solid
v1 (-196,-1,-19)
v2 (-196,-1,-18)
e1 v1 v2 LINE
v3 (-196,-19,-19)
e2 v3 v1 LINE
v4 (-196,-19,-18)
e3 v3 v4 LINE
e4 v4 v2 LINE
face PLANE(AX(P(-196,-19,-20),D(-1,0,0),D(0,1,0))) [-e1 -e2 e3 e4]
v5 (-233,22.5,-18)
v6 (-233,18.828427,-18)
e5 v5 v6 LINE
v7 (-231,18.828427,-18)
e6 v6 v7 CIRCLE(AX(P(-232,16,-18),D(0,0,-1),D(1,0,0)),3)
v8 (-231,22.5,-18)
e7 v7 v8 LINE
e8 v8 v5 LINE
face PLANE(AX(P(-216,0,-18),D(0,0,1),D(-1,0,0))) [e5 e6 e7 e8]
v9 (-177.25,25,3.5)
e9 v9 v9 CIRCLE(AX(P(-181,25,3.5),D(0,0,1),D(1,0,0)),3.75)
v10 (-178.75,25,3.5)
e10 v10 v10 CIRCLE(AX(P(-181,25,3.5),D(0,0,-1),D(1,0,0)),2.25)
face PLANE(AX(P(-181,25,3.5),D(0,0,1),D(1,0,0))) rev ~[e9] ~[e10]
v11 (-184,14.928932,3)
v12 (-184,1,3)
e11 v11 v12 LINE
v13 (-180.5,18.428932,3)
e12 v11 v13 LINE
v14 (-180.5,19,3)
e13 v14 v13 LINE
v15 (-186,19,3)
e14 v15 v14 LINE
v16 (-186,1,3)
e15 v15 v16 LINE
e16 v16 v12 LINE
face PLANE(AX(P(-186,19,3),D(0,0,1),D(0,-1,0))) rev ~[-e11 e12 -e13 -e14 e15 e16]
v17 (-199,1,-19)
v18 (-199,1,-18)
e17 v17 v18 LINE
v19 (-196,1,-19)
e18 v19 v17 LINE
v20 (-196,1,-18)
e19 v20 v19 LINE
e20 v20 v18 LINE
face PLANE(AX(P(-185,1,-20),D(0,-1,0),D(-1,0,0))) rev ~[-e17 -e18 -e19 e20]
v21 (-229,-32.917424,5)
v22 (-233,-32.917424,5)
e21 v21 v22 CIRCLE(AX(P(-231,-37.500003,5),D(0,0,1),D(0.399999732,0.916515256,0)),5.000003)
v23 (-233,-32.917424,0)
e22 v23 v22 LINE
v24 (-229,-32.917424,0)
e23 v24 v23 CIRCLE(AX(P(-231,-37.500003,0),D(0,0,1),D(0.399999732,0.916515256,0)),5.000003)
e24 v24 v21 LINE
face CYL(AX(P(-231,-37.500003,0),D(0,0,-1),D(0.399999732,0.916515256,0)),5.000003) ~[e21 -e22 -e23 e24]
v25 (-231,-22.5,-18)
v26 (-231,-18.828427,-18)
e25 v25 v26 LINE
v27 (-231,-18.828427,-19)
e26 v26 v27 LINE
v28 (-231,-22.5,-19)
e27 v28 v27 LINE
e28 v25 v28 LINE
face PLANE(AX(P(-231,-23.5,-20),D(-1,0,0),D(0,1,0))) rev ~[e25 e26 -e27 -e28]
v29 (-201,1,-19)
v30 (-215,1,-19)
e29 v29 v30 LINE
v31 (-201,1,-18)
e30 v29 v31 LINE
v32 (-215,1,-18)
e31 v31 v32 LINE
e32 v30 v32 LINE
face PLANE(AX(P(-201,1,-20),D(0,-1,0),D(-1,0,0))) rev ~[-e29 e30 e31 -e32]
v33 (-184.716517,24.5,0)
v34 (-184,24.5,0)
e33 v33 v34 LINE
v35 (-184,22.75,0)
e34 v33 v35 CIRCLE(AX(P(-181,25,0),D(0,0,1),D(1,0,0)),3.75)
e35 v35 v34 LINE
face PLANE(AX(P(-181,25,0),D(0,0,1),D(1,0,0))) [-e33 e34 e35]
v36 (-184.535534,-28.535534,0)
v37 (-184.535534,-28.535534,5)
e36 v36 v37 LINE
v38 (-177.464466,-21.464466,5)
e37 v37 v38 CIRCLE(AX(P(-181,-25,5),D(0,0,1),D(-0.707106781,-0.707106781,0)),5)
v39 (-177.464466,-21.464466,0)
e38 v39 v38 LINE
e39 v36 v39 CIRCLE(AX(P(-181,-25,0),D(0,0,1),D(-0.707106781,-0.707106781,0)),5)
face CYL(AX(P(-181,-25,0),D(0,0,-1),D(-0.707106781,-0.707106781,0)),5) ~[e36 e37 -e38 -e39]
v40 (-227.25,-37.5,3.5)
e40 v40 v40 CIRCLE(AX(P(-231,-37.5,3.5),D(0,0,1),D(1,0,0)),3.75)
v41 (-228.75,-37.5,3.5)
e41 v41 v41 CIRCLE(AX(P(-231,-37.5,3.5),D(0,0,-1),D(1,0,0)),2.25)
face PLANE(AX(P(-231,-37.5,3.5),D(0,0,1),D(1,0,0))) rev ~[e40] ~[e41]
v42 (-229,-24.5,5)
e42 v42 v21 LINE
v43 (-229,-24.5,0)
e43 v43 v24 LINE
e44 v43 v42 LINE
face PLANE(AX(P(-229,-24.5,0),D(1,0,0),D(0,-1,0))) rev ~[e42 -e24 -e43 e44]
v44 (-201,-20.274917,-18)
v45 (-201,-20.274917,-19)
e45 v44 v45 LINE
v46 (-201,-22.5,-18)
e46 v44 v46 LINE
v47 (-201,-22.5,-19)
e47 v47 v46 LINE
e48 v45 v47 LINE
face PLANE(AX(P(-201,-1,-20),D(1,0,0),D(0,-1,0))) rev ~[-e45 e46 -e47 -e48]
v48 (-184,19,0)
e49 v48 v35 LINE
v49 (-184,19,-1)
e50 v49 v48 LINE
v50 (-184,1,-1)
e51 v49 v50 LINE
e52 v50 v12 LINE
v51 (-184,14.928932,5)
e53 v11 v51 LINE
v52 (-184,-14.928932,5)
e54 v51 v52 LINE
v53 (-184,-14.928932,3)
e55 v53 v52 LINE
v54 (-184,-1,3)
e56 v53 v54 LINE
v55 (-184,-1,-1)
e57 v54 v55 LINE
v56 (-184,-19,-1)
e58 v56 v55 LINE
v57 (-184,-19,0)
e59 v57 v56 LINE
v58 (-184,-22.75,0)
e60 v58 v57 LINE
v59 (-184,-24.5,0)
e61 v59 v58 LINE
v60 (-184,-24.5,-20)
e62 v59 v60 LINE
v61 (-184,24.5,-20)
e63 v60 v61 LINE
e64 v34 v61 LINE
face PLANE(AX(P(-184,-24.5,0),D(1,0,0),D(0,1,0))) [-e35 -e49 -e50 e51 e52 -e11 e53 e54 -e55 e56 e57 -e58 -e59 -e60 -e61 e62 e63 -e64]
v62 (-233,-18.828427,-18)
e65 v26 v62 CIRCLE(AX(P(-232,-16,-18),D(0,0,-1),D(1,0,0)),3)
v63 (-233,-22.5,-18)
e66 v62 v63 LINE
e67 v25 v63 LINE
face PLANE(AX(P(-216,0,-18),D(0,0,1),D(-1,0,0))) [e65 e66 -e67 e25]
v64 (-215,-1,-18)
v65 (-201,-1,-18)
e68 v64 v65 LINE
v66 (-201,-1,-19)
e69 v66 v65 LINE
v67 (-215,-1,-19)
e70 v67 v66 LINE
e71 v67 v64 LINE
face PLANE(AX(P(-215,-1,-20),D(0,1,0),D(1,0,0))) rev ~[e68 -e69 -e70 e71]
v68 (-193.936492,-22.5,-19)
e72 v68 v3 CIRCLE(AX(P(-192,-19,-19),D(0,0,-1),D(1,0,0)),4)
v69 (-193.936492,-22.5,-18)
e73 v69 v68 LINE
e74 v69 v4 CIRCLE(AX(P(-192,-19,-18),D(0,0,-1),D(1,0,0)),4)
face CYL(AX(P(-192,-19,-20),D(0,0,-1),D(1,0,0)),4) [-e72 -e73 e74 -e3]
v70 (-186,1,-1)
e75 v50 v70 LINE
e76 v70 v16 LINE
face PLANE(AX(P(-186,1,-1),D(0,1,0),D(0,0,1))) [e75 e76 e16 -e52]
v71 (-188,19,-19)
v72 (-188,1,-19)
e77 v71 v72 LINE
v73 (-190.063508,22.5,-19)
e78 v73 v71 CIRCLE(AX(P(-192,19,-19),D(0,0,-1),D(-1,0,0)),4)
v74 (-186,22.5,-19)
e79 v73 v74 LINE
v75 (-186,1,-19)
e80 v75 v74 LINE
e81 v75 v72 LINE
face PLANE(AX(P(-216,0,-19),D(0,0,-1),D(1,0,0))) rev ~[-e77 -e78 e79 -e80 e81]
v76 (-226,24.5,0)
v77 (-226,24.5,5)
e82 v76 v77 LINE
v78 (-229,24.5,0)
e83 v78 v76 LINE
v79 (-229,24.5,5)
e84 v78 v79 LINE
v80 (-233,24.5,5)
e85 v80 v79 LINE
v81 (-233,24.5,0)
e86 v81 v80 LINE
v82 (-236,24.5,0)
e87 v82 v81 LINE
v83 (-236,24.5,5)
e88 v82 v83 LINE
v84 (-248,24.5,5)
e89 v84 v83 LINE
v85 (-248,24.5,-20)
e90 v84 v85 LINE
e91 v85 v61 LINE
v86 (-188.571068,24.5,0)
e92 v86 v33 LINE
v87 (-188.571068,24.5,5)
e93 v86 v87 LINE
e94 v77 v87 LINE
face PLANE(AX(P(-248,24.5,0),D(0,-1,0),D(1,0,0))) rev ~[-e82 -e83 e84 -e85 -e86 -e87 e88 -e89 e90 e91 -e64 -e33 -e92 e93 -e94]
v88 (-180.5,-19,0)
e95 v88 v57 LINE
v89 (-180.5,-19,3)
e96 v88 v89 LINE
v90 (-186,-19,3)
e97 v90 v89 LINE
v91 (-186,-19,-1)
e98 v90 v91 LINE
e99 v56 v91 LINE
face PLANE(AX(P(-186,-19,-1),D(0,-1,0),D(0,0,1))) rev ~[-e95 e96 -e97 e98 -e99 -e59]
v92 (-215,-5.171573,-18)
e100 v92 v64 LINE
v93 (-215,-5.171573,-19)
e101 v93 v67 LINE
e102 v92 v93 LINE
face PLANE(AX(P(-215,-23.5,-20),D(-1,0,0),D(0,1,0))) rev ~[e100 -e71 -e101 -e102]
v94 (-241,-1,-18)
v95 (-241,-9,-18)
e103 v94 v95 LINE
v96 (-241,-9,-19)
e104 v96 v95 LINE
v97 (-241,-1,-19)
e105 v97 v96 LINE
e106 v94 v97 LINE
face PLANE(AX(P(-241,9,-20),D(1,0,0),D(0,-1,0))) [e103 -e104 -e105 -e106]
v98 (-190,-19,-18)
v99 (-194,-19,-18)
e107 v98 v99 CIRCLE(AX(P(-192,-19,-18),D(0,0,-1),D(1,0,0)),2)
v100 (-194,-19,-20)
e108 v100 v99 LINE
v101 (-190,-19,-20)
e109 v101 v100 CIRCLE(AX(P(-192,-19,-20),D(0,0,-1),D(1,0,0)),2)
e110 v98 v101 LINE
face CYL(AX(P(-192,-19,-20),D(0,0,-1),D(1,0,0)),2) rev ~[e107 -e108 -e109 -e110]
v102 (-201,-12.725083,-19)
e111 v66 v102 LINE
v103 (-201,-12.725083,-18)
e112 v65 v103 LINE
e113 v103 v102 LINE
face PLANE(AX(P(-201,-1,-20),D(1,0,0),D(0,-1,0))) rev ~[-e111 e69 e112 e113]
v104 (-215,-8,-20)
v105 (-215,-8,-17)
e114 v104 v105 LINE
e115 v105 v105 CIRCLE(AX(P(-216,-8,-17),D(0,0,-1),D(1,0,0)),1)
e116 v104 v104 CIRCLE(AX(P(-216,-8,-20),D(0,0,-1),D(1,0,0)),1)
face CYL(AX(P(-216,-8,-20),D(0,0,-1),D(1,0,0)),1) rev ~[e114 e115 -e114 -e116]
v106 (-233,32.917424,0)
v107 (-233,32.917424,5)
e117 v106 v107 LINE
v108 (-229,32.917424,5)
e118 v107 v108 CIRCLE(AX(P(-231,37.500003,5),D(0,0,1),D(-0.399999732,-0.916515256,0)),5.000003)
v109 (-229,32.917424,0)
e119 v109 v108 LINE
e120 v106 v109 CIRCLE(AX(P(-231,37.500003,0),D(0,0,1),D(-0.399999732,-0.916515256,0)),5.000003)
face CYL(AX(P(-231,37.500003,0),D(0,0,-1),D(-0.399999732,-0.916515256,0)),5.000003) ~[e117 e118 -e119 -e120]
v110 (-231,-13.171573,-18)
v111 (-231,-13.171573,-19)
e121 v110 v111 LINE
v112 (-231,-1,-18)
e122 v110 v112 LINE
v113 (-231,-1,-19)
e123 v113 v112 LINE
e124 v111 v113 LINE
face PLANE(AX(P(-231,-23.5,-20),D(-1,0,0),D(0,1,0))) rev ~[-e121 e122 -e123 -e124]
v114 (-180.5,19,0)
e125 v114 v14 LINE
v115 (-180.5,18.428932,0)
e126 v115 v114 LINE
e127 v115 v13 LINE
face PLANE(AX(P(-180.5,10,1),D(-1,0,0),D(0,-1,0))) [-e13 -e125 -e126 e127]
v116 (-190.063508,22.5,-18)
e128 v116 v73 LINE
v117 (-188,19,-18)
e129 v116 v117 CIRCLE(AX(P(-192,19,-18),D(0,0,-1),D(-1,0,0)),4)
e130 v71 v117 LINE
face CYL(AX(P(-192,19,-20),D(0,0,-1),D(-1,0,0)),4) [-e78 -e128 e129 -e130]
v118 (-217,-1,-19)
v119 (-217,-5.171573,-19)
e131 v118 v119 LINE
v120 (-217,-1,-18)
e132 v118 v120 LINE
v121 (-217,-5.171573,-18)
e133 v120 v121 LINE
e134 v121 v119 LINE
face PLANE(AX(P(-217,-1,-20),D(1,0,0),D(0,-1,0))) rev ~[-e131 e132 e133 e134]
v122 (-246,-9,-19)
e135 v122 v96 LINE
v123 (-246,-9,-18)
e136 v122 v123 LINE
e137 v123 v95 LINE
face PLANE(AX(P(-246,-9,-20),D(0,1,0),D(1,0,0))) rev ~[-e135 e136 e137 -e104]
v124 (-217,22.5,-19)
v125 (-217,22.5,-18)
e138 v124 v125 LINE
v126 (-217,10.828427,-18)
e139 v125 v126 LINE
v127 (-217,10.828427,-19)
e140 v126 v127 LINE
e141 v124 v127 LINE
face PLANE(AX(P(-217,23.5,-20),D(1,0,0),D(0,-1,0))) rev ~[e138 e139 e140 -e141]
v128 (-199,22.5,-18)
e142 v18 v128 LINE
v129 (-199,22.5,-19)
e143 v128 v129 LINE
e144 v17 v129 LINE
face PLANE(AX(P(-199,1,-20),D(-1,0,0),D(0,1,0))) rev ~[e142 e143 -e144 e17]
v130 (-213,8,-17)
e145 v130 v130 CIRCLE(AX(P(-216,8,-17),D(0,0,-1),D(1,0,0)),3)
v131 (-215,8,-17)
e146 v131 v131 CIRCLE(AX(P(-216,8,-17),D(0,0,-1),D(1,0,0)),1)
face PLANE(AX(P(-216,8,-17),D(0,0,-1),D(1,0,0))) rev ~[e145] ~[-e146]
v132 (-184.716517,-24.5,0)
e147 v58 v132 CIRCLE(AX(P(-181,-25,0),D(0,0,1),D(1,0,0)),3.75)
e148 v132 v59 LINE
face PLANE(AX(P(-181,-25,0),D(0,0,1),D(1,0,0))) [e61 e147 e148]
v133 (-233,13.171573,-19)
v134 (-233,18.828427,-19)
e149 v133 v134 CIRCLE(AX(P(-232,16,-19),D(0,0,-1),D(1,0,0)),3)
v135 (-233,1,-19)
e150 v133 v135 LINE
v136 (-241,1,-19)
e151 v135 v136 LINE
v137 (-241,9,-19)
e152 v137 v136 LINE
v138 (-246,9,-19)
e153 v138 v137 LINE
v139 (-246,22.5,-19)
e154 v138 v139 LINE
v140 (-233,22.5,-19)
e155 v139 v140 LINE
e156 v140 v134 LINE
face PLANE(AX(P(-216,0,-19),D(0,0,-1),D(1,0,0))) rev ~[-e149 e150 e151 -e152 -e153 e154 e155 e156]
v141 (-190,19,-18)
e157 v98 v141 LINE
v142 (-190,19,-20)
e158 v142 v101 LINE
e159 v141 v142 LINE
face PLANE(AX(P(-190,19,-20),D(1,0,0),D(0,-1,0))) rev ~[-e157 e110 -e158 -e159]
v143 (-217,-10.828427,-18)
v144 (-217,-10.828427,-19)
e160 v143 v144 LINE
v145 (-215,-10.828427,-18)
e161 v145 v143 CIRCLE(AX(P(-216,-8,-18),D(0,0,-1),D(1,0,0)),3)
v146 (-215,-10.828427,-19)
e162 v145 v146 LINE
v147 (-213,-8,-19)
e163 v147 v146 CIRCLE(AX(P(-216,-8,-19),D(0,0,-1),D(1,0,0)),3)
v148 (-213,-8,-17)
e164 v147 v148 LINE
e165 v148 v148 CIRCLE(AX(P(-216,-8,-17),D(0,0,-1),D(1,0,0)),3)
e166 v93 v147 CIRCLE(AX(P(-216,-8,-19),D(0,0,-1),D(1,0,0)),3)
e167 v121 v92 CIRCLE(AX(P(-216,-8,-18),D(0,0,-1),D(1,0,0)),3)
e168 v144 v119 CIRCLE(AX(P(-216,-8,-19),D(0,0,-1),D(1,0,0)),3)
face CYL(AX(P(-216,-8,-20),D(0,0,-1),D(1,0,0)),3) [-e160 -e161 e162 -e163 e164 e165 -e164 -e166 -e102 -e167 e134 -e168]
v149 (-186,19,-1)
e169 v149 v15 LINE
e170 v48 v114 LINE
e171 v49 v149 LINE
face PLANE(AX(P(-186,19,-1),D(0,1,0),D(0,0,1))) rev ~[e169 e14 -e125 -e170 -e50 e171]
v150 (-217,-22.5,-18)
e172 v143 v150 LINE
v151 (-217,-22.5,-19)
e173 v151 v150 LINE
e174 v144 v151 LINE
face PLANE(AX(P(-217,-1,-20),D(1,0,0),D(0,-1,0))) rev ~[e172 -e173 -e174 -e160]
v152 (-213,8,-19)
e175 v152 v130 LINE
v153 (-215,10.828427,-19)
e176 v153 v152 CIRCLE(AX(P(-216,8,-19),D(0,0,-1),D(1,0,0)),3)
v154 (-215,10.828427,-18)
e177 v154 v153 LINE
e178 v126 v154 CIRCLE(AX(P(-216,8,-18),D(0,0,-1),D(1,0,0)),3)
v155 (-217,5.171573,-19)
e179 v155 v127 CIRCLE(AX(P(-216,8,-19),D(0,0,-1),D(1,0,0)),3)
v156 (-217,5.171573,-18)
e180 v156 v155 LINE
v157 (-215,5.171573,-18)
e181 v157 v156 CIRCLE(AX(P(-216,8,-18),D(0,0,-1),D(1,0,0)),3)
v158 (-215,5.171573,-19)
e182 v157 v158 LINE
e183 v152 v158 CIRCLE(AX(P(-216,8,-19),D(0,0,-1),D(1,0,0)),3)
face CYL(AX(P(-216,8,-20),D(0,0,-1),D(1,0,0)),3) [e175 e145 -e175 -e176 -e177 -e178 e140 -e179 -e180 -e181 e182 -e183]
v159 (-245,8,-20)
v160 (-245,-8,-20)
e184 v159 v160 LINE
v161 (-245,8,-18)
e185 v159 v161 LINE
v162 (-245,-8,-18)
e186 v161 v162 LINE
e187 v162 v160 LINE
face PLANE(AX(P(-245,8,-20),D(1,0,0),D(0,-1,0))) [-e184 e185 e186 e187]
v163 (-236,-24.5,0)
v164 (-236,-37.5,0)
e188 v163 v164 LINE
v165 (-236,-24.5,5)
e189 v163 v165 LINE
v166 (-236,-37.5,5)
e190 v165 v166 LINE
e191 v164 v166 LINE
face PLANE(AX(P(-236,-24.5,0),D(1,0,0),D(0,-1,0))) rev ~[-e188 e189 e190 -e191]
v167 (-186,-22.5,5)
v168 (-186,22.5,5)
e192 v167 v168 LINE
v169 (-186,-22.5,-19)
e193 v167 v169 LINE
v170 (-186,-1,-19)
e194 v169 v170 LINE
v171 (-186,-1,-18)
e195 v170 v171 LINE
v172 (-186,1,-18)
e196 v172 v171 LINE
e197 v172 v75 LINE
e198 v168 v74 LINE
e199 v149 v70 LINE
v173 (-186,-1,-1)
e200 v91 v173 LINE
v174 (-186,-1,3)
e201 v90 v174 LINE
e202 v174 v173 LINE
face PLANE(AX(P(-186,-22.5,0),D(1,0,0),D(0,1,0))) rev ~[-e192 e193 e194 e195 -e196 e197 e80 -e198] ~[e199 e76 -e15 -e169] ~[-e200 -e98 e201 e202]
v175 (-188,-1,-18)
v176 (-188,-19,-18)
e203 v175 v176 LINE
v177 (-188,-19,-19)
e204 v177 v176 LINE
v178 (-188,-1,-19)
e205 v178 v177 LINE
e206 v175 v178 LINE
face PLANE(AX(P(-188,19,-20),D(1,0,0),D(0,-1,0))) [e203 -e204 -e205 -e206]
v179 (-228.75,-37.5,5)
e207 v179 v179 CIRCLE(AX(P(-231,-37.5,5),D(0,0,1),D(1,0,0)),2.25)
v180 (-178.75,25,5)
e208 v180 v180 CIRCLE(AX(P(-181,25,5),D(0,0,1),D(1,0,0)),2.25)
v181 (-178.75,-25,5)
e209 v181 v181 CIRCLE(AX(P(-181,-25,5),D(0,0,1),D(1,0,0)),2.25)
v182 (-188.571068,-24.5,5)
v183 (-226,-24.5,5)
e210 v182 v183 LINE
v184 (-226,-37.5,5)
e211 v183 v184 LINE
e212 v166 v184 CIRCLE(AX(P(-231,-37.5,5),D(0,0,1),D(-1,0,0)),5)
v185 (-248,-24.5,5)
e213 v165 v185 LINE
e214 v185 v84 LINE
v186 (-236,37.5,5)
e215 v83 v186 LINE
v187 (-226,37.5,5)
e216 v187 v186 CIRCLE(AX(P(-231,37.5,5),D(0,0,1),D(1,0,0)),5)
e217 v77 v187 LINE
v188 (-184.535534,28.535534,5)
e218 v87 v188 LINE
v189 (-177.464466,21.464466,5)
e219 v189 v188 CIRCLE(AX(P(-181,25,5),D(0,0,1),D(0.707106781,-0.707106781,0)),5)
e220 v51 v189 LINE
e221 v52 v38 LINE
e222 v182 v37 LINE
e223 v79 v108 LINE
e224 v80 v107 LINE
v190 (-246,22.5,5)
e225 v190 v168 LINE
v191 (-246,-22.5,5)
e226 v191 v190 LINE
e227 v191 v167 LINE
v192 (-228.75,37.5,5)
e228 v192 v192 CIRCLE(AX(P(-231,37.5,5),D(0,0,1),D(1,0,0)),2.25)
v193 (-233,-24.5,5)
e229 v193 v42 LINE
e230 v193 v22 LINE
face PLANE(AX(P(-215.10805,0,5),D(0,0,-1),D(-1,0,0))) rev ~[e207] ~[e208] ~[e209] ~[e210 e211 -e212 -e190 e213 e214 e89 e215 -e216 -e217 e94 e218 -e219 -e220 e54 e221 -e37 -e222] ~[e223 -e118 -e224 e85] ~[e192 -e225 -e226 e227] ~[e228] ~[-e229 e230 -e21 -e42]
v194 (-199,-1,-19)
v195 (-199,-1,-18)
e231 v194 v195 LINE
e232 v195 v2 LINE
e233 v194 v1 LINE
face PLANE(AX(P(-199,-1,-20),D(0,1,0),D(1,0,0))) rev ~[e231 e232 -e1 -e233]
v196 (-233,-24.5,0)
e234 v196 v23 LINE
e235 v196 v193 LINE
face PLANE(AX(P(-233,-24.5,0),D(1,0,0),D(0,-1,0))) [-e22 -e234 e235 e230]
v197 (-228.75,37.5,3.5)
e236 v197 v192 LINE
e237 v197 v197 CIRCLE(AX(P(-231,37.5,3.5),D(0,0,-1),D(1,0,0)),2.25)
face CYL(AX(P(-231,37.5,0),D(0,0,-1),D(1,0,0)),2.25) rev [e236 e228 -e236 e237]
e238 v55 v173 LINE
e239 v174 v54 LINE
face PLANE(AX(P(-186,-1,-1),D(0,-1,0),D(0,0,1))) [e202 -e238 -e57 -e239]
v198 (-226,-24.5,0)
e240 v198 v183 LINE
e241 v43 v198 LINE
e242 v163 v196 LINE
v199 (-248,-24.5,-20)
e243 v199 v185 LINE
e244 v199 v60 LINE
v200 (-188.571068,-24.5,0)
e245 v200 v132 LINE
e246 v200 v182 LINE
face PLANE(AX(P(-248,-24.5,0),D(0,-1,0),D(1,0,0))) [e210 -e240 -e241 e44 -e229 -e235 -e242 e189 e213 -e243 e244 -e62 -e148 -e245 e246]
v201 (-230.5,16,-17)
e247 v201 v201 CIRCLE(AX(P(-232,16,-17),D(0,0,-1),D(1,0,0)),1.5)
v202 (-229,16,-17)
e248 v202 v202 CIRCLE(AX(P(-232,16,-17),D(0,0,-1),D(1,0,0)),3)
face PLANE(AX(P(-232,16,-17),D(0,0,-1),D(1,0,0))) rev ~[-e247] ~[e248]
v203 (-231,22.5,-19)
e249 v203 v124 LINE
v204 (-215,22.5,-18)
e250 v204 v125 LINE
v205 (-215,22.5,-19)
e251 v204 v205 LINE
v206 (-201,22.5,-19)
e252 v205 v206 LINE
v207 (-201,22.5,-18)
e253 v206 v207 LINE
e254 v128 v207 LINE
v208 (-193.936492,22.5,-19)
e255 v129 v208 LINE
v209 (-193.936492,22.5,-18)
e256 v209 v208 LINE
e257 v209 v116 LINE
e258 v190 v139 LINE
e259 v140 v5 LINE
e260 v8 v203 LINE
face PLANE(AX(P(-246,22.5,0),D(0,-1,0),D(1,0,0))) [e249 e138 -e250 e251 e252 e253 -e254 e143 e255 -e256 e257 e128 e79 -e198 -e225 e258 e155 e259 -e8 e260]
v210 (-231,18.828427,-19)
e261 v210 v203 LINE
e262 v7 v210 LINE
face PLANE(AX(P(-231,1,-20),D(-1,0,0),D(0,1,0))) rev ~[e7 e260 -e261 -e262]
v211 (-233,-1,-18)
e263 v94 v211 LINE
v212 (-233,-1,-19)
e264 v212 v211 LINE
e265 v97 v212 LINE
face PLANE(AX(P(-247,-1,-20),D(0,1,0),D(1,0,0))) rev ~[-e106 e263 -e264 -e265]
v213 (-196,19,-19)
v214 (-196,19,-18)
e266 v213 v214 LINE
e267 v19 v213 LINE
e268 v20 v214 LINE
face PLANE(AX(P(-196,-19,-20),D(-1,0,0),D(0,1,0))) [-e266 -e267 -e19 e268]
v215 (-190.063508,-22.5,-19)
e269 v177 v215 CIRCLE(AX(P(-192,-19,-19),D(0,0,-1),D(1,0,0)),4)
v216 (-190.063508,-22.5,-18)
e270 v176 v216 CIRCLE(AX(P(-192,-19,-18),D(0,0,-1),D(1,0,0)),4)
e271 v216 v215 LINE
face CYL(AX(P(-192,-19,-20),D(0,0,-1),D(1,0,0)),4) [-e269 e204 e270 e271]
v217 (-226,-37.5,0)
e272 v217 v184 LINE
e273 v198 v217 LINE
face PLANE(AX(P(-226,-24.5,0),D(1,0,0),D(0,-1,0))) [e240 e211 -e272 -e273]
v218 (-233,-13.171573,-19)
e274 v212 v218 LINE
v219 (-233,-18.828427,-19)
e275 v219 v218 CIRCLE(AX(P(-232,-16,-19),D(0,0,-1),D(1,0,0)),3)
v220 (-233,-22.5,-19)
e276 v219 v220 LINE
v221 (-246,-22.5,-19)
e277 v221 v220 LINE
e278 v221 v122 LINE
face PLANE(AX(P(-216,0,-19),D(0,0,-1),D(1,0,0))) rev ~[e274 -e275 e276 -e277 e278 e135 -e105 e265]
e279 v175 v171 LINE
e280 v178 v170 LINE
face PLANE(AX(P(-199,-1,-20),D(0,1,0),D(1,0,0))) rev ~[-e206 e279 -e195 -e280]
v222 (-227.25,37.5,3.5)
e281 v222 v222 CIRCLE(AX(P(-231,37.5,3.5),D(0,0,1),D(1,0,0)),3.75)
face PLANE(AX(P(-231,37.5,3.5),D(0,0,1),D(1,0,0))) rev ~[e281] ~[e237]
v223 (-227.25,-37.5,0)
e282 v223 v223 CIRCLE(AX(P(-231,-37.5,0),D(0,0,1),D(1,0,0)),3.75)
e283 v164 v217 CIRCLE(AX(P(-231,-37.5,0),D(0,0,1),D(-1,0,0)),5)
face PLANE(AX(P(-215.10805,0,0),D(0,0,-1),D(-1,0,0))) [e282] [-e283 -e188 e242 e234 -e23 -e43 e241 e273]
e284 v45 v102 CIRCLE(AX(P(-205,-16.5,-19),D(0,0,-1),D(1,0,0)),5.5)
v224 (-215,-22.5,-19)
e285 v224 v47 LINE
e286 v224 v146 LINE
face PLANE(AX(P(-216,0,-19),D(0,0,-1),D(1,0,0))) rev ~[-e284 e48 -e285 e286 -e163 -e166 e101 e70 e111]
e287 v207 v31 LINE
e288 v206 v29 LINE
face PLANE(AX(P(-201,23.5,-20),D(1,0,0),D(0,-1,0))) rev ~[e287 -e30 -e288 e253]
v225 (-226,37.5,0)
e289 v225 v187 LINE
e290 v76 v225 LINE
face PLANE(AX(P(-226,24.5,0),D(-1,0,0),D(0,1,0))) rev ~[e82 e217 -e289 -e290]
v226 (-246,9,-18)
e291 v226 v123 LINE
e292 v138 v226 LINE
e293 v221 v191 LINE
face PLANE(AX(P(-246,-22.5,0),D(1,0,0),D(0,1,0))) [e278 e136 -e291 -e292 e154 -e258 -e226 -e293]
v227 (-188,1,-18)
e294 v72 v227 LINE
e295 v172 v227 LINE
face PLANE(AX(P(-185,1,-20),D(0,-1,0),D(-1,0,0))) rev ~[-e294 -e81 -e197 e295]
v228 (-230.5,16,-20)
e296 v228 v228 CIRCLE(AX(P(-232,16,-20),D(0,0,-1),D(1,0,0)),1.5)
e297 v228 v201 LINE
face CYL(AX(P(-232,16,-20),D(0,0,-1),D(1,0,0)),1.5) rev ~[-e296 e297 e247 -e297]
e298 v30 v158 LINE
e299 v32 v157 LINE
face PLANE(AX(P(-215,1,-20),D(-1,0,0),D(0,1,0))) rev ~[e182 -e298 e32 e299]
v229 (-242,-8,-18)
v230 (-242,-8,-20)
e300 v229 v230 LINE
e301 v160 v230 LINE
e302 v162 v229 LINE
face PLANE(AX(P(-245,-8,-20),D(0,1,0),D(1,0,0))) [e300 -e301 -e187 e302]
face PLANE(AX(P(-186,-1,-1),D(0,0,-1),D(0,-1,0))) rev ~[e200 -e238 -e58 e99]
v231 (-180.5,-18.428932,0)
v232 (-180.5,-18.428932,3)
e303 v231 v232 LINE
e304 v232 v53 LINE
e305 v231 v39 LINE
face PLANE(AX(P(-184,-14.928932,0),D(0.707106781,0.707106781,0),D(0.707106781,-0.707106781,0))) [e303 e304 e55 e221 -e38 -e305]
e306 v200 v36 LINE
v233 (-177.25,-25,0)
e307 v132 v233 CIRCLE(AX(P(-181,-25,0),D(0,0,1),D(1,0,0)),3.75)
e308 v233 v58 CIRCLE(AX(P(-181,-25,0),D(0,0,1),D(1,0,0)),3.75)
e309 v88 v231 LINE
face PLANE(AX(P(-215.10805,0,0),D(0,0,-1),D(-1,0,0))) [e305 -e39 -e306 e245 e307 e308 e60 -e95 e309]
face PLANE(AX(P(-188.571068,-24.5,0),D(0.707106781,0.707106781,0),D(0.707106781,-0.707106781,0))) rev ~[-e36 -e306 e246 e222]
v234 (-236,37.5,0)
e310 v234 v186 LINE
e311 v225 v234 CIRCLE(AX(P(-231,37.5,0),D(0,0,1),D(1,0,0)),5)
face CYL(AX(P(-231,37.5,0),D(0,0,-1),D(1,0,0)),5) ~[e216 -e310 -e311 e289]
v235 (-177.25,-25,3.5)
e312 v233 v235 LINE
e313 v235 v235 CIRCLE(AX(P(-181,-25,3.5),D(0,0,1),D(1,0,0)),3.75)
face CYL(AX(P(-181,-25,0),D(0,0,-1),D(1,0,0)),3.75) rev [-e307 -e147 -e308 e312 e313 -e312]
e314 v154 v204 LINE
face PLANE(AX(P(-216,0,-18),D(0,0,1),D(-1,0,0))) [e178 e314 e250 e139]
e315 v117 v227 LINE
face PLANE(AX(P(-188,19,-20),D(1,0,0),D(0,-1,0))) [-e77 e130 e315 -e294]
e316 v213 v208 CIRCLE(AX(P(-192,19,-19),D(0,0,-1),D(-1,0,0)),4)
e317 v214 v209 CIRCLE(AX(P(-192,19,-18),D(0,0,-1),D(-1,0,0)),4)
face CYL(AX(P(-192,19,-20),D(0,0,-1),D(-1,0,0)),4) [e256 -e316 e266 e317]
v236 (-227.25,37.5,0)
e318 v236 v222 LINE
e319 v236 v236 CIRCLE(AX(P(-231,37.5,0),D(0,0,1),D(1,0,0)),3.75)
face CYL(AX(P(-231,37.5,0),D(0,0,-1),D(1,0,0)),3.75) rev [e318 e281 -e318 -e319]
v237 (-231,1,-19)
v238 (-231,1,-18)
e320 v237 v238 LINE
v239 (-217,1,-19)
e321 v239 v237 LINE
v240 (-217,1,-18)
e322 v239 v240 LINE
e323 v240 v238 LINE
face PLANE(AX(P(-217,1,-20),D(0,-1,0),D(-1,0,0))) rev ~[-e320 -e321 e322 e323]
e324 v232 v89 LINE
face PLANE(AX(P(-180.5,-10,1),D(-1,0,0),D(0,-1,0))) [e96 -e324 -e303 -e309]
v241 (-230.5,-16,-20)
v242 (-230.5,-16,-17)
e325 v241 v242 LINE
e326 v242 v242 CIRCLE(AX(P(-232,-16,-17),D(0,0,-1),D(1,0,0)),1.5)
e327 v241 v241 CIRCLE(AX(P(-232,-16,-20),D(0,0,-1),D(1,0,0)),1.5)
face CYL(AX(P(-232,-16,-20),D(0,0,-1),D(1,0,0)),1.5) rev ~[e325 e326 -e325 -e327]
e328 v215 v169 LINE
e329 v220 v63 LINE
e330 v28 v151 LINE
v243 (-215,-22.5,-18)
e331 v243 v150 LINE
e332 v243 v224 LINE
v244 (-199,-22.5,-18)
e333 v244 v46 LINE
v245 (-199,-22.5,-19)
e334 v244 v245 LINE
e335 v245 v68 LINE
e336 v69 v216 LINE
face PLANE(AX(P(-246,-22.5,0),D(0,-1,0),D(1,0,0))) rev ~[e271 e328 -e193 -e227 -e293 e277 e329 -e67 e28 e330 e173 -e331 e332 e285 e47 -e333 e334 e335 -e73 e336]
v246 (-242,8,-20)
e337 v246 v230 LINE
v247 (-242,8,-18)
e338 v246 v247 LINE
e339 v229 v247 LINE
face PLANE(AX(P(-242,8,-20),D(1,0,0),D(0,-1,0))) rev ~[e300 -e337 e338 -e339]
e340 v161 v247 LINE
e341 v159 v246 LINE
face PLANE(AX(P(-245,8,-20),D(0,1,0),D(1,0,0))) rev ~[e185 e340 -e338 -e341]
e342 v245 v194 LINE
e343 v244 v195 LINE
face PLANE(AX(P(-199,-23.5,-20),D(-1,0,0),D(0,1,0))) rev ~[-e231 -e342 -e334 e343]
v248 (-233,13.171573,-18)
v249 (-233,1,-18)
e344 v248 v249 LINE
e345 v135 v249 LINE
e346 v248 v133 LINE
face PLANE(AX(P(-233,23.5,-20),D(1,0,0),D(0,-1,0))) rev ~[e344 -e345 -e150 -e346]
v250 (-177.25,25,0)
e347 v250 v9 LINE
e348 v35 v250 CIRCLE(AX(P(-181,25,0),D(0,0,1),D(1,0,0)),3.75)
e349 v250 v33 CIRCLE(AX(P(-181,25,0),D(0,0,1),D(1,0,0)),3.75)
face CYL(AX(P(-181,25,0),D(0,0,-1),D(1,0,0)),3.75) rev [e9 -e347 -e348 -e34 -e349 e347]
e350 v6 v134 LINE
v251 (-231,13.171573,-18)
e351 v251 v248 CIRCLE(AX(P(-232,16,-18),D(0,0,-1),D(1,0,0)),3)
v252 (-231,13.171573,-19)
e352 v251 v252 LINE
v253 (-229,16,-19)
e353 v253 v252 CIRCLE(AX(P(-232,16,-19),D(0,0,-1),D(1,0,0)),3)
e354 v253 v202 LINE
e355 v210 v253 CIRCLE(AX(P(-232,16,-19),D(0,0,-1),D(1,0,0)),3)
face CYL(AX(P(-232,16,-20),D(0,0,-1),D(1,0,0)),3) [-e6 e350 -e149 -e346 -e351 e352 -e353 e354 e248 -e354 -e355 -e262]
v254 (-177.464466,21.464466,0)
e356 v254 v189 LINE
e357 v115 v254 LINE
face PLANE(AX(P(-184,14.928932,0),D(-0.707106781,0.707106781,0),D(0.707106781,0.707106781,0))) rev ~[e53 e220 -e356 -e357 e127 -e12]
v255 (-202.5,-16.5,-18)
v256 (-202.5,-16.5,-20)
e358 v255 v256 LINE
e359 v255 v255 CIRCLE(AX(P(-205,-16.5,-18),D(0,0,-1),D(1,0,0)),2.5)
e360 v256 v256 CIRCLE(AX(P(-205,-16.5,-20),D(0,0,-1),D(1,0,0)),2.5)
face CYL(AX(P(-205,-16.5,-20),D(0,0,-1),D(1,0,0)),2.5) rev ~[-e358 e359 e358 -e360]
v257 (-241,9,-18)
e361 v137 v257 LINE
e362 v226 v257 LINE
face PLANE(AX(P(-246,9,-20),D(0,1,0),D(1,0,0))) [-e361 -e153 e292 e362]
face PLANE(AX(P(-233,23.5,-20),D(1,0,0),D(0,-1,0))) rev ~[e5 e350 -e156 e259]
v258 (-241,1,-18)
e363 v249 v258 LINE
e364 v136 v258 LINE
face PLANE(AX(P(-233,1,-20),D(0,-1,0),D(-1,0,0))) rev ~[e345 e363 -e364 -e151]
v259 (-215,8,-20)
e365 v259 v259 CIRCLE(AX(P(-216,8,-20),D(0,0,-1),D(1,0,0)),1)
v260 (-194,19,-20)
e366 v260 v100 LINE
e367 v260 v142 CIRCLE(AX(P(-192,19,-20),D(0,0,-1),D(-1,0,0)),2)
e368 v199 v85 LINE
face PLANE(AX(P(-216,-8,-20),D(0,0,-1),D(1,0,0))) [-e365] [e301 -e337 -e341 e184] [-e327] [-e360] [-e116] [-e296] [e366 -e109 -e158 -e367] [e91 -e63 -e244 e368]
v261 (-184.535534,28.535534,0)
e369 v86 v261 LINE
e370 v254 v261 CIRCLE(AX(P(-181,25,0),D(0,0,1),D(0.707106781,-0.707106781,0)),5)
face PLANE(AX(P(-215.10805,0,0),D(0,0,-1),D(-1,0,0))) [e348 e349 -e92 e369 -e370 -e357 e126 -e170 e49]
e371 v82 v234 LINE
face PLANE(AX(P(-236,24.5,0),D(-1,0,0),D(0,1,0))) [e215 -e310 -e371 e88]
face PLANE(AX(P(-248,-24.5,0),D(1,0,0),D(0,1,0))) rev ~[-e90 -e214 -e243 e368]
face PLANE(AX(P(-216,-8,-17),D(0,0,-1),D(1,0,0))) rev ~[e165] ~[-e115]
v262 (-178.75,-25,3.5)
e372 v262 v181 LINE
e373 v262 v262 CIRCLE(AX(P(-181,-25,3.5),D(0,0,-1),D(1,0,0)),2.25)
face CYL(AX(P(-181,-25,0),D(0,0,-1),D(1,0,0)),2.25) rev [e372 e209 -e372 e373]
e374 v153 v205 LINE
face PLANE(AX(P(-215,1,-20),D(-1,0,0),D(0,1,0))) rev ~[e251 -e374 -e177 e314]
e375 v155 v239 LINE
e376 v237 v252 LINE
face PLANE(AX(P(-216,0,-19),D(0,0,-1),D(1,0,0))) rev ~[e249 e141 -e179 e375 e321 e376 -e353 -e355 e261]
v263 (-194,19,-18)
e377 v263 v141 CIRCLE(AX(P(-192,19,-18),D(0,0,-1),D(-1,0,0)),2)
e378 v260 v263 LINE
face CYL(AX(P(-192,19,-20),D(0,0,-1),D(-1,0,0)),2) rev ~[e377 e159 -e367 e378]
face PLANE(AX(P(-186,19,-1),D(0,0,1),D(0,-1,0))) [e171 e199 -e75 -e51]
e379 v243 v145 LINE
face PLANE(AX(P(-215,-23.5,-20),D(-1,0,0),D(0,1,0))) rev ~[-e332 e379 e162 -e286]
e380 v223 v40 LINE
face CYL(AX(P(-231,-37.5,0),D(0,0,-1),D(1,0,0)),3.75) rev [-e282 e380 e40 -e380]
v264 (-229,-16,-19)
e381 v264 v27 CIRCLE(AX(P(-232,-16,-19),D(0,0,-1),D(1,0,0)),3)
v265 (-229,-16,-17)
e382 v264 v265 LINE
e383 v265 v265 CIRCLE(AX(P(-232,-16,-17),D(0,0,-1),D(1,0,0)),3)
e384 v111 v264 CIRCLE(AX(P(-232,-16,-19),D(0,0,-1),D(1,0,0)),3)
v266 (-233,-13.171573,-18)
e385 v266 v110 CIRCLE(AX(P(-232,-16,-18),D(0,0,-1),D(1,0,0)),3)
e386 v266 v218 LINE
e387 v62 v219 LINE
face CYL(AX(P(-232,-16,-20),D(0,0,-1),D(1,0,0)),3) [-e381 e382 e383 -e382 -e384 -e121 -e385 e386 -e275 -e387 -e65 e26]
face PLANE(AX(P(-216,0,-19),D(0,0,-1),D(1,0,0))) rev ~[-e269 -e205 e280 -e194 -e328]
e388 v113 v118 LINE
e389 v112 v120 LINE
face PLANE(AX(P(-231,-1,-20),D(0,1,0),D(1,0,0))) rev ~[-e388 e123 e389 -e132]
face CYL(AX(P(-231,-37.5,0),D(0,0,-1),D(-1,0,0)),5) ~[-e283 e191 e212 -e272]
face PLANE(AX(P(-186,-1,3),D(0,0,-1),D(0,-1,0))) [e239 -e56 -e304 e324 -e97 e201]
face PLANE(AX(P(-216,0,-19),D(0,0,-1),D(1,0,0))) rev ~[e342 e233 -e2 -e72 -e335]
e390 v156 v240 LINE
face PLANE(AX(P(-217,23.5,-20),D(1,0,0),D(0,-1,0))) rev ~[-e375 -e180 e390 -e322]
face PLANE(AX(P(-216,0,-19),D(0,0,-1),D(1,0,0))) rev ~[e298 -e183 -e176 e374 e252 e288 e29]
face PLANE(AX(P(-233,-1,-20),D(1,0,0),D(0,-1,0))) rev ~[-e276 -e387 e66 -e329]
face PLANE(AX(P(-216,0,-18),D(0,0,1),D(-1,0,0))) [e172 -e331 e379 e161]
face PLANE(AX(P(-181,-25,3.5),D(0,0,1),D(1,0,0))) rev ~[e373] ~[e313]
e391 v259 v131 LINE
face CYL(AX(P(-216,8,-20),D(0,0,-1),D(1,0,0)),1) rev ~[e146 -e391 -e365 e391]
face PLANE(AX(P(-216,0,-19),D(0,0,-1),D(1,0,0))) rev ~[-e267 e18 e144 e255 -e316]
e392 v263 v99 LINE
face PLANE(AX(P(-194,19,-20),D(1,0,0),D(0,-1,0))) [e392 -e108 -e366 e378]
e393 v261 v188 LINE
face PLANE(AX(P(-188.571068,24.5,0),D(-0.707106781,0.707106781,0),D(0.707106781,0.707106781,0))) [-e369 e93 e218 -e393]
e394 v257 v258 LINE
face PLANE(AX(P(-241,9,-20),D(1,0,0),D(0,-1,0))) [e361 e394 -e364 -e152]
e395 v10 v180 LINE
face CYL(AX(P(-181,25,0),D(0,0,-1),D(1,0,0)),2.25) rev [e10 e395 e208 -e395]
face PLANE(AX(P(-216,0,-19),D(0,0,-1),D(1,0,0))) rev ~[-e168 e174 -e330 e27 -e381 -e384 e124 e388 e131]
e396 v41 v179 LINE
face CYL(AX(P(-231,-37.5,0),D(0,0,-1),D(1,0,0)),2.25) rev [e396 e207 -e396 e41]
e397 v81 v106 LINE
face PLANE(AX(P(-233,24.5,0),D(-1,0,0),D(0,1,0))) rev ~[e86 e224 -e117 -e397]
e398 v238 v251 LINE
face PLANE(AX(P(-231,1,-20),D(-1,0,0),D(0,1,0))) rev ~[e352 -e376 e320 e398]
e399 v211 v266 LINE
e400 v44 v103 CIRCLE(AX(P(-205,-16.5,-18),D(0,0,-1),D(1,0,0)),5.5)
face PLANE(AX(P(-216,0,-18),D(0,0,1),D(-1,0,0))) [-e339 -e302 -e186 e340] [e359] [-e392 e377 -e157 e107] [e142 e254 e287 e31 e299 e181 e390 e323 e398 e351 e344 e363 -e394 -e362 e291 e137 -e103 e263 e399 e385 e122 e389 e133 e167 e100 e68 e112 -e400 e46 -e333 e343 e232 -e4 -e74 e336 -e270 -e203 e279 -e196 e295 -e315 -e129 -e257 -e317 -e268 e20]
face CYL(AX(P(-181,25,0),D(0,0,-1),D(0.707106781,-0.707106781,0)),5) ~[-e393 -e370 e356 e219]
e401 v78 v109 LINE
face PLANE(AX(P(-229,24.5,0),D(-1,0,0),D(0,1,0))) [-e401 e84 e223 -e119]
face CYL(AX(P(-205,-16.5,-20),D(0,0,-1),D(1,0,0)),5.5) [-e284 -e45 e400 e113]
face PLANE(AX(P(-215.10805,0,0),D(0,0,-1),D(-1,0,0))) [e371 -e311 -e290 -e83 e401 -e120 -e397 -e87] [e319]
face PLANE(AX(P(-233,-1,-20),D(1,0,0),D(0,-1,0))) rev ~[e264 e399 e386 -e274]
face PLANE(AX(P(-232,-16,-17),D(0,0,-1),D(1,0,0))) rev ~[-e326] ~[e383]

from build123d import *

# Parameters (mm, degrees)
SKETCH315_W     = 60
SKETCH315_H     = 45
PAD148_DEPTH    = 5
SKETCH318_W     = 64
SKETCH318_H     = 49
SKETCH318_W_2   = 60
SKETCH318_H_2   = 45
PAD149_DEPTH    = 20
SKETCH319_W     = 62
SKETCH319_H     = 47
PAD150_DEPTH    = 1
PAD151_DEPTH    = 2
SKETCH316_W     = 18
SKETCH316_H     = 4
POCKET130_DEPTH = 5.5
SKETCH317_R     = 2.25
POCKET131_DEPTH = 5
SKETCH323_R     = 3.75
POCKET132_DEPTH = 3.5
SKETCH324_W     = 3
SKETCH324_H     = 16
POCKET133_DEPTH = 5
SKETCH325_W     = 5
SKETCH325_H     = 18
SKETCH325_W_2   = 3
SKETCH325_H_2   = 16
PAD152_DEPTH    = 2
SKETCH321_R     = 3
PAD153_DEPTH    = 3
SKETCH322_R     = 1.5
POCKET134_DEPTH = 5
SKETCH326_R     = 3
PAD154_DEPTH    = 3
SKETCH327_R     = 1
POCKET135_DEPTH = 5
POCKET136_DEPTH = 5
PAD155_DEPTH    = 2
SKETCH330_R     = 2.5
POCKET137_DEPTH = 5
SKETCH331_R     = 5.5
SKETCH331_R_2   = 2.5
PAD156_DEPTH    = 2


with BuildPart() as part:
    # Sketch315 → Pad148 (new body)
    with BuildSketch(Plane.XY):
        with BuildLine():
            Line((-32, 24.5), (-20, 24.5))
            Line((-20, 24.5), (-20, 37.5))
            ThreePointArc((-10, 37.5), (-15, 42.5), (-20, 37.5))
            Line((-10, 24.5), (-10, 37.5))
            Line((-10, 24.5), (27.428932, 24.5))
            Line((27.428932, 24.5), (31.464466, 28.535534))
            ThreePointArc((38.535534, 21.464466), (38.535534, 28.535534), (31.464466, 28.535534))
            Line((32, 14.928932), (38.535534, 21.464466))
            Line((32, 14.928932), (32, -14.928932))
            Line((32, -14.928932), (38.535534, -21.464466))
            ThreePointArc((31.464466, -28.535534), (38.535534, -28.535534), (38.535534, -21.464466))
            Line((27.428932, -24.5), (31.464466, -28.535534))
            Line((27.428932, -24.5), (-10, -24.5))
            Line((-10, -24.5), (-10, -37.5))
            ThreePointArc((-20, -37.5), (-15, -42.5), (-10, -37.5))
            Line((-20, -24.5), (-20, -37.5))
            Line((-20, -24.5), (-32, -24.5))
            Line((-32, -24.5), (-32, 24.5))
        make_face()
        Rectangle(SKETCH315_W, SKETCH315_H, mode=Mode.SUBTRACT)
    extrude(amount=PAD148_DEPTH)

    # Sketch318 → Pad149 (join)
    with BuildSketch(Plane.XY):
        Rectangle(SKETCH318_W, SKETCH318_H)
        Rectangle(SKETCH318_W_2, SKETCH318_H_2, mode=Mode.SUBTRACT)
    extrude(amount=-PAD149_DEPTH)

    # Sketch319 (on Face13 of Pad149) → Pad150 (join)
    with BuildSketch(Plane(origin=(0, 0, -20), x_dir=(1, 0, 0), z_dir=(0, 0, -1))):
        Rectangle(SKETCH319_W, SKETCH319_H)
    extrude(amount=-PAD150_DEPTH)

    # Sketch320 (on Face38 of Pad150) → Pad151 (join)
    with BuildSketch(Plane(origin=(0, 0, -20), x_dir=(1, 0, 0), z_dir=(0, 0, -1))):
        Polygon((-31, 1), (-17, 1), (-17, 23.5), (-15, 23.5), (-15, 1), (-1, 1), (-1, 23.5), (1, 23.5), (1, 1), (15, 1), (15, 23.5), (17, 23.5), (17, 1), (31, 1), (31, -1), (17, -1), (17, -23.5), (15, -23.5), (15, -1), (1, -1), (1, -23.5), (-1, -23.5), (-1, -1), (-15, -1), (-15, -23.5), (-17, -23.5), (-17, -1), (-31, -1), align=None)
    extrude(amount=-PAD151_DEPTH)

    # Sketch316 → Pocket130 (cut, symmetric)
    with BuildSketch(Plane(origin=(30, 0, 0), x_dir=(0, -1, 0), z_dir=(-1, 0, 0))):
        with Locations((-10, 1)):
            Rectangle(SKETCH316_W, SKETCH316_H)
        with Locations((10, 1)):
            Rectangle(SKETCH316_W, SKETCH316_H)
    extrude(amount=POCKET130_DEPTH, both=True, mode=Mode.SUBTRACT)

    # Sketch317 → Pocket131 (cut)
    with BuildSketch(Plane.XY):
        with Locations((35, -25)):
            Circle(SKETCH317_R)
        with Locations((35, 25)):
            Circle(SKETCH317_R)
        with Locations((-15, 37.5)):
            Circle(SKETCH317_R)
        with Locations((-15, -37.5)):
            Circle(SKETCH317_R)
        with BuildLine():
            Line((-17, 24.5), (-13, 24.5))
            Line((-13, 24.5), (-13, 32.917424))
            ThreePointArc((-17, 32.917424), (-15, 32.5), (-13, 32.917424))
            Line((-17, 24.5), (-17, 32.917424))
        make_face()
        with BuildLine():
            Line((-17, -24.5), (-13, -24.5))
            Line((-13, -24.5), (-13, -32.917424))
            ThreePointArc((-13, -32.917424), (-15, -32.5), (-17, -32.917424))
            Line((-17, -24.5), (-17, -32.917424))
        make_face()
    extrude(amount=POCKET131_DEPTH, mode=Mode.SUBTRACT)

    # Sketch323 → Pocket132 (cut)
    with BuildSketch(Plane.XY):
        with Locations((35, -25)):
            Circle(SKETCH323_R)
        with Locations((35, 25)):
            Circle(SKETCH323_R)
        with Locations((-15, 37.5)):
            Circle(SKETCH323_R)
        with Locations((-15, -37.5)):
            Circle(SKETCH323_R)
    extrude(amount=POCKET132_DEPTH, mode=Mode.SUBTRACT)

    # Sketch324 (on Face87 of Pocket132) → Pocket133 (cut)
    with BuildSketch(Plane(origin=(0, 0, -20), x_dir=(1, 0, 0), z_dir=(0, 0, -1))):
        with Locations((-27.5, 0)):
            Rectangle(SKETCH324_W, SKETCH324_H)
    extrude(amount=-POCKET133_DEPTH, mode=Mode.SUBTRACT)

    # Sketch325 (on Face87 of Pocket133) → Pad152 (join)
    with BuildSketch(Plane(origin=(0, 0, -20), x_dir=(1, 0, 0), z_dir=(0, 0, -1))):
        with Locations((-27.5, 0)):
            Rectangle(SKETCH325_W, SKETCH325_H)
        with Locations((-27.5, 0)):
            Rectangle(SKETCH325_W_2, SKETCH325_H_2, mode=Mode.SUBTRACT)
    extrude(amount=-PAD152_DEPTH)

    # Sketch321 (on Face13 of Pad151) → Pad153 (join)
    with BuildSketch(Plane(origin=(0, 0, -20), x_dir=(1, 0, 0), z_dir=(0, 0, -1))):
        with Locations((-16, 16)):
            Circle(SKETCH321_R)
        with Locations((-16, -16)):
            Circle(SKETCH321_R)
    extrude(amount=-PAD153_DEPTH)

    # Sketch322 → Pocket134 (cut)
    with BuildSketch(Plane(origin=(0, 0, -20), x_dir=(1, 0, 0), z_dir=(0, 0, -1))):
        with Locations((-16, 16)):
            Circle(SKETCH322_R)
        with Locations((-16, -16)):
            Circle(SKETCH322_R)
    extrude(amount=-POCKET134_DEPTH, mode=Mode.SUBTRACT)

    # Sketch326 (on Face87 of Pad152) → Pad154 (join)
    with BuildSketch(Plane(origin=(0, 0, -20), x_dir=(1, 0, 0), z_dir=(0, 0, -1))):
        with Locations((0, 8)):
            Circle(SKETCH326_R)
        with Locations((0, -8)):
            Circle(SKETCH326_R)
    extrude(amount=-PAD154_DEPTH)

    # Sketch327 → Pocket135 (cut)
    with BuildSketch(Plane(origin=(0, 0, -20), x_dir=(1, 0, 0), z_dir=(0, 0, -1))):
        with Locations((0, 8)):
            Circle(SKETCH327_R)
        with Locations((0, -8)):
            Circle(SKETCH327_R)
    extrude(amount=-POCKET135_DEPTH, mode=Mode.SUBTRACT)

    # Sketch328 (on Face15 of Pocket135) → Pocket136 (cut)
    with BuildSketch(Plane(origin=(0, 0, -20), x_dir=(1, 0, 0), z_dir=(0, 0, -1))):
        with BuildLine():
            ThreePointArc((26, 19), (24, 21), (22, 19))
            Line((22, -19), (22, 19))
            ThreePointArc((22, -19), (24, -21), (26, -19))
            Line((26, -19), (26, 19))
        make_face()
    extrude(amount=-POCKET136_DEPTH, mode=Mode.SUBTRACT)

    # Sketch329 (on Face15 of Pocket135) → Pad155 (join)
    with BuildSketch(Plane(origin=(0, 0, -20), x_dir=(1, 0, 0), z_dir=(0, 0, -1))):
        with BuildLine():
            ThreePointArc((28, 19), (24, 23), (20, 19))
            Line((20, 19), (20, -19))
            ThreePointArc((20, -19), (24, -23), (28, -19))
            Line((28, -19), (28, 19))
        make_face()
        with BuildLine():
            ThreePointArc((26, 19), (24, 21), (22, 19))
            Line((22, -19), (22, 19))
            ThreePointArc((22, -19), (24, -21), (26, -19))
            Line((26, -19), (26, 19))
        make_face(mode=Mode.SUBTRACT)
    extrude(amount=-PAD155_DEPTH)

    # Sketch330 (on Face15 of Pad155) → Pocket137 (cut)
    with BuildSketch(Plane(origin=(0, 0, -20), x_dir=(1, 0, 0), z_dir=(0, 0, -1))):
        with Locations((11, 16.5)):
            Circle(SKETCH330_R)
    extrude(amount=-POCKET137_DEPTH, mode=Mode.SUBTRACT)

    # Sketch331 (on Face15 of Pocket137) → Pad156 (join)
    with BuildSketch(Plane(origin=(0, 0, -20), x_dir=(1, 0, 0), z_dir=(0, 0, -1))):
        with Locations((11, 16.5)):
            Circle(SKETCH331_R)
        with Locations((11, 16.5)):
            Circle(SKETCH331_R_2, mode=Mode.SUBTRACT)
    extrude(amount=-PAD156_DEPTH)


with BuildPart() as part_1:
    # Body033 placement: moved
    add(part.part.moved(Location((-216, 0, 0))))


solid = part_1.part
